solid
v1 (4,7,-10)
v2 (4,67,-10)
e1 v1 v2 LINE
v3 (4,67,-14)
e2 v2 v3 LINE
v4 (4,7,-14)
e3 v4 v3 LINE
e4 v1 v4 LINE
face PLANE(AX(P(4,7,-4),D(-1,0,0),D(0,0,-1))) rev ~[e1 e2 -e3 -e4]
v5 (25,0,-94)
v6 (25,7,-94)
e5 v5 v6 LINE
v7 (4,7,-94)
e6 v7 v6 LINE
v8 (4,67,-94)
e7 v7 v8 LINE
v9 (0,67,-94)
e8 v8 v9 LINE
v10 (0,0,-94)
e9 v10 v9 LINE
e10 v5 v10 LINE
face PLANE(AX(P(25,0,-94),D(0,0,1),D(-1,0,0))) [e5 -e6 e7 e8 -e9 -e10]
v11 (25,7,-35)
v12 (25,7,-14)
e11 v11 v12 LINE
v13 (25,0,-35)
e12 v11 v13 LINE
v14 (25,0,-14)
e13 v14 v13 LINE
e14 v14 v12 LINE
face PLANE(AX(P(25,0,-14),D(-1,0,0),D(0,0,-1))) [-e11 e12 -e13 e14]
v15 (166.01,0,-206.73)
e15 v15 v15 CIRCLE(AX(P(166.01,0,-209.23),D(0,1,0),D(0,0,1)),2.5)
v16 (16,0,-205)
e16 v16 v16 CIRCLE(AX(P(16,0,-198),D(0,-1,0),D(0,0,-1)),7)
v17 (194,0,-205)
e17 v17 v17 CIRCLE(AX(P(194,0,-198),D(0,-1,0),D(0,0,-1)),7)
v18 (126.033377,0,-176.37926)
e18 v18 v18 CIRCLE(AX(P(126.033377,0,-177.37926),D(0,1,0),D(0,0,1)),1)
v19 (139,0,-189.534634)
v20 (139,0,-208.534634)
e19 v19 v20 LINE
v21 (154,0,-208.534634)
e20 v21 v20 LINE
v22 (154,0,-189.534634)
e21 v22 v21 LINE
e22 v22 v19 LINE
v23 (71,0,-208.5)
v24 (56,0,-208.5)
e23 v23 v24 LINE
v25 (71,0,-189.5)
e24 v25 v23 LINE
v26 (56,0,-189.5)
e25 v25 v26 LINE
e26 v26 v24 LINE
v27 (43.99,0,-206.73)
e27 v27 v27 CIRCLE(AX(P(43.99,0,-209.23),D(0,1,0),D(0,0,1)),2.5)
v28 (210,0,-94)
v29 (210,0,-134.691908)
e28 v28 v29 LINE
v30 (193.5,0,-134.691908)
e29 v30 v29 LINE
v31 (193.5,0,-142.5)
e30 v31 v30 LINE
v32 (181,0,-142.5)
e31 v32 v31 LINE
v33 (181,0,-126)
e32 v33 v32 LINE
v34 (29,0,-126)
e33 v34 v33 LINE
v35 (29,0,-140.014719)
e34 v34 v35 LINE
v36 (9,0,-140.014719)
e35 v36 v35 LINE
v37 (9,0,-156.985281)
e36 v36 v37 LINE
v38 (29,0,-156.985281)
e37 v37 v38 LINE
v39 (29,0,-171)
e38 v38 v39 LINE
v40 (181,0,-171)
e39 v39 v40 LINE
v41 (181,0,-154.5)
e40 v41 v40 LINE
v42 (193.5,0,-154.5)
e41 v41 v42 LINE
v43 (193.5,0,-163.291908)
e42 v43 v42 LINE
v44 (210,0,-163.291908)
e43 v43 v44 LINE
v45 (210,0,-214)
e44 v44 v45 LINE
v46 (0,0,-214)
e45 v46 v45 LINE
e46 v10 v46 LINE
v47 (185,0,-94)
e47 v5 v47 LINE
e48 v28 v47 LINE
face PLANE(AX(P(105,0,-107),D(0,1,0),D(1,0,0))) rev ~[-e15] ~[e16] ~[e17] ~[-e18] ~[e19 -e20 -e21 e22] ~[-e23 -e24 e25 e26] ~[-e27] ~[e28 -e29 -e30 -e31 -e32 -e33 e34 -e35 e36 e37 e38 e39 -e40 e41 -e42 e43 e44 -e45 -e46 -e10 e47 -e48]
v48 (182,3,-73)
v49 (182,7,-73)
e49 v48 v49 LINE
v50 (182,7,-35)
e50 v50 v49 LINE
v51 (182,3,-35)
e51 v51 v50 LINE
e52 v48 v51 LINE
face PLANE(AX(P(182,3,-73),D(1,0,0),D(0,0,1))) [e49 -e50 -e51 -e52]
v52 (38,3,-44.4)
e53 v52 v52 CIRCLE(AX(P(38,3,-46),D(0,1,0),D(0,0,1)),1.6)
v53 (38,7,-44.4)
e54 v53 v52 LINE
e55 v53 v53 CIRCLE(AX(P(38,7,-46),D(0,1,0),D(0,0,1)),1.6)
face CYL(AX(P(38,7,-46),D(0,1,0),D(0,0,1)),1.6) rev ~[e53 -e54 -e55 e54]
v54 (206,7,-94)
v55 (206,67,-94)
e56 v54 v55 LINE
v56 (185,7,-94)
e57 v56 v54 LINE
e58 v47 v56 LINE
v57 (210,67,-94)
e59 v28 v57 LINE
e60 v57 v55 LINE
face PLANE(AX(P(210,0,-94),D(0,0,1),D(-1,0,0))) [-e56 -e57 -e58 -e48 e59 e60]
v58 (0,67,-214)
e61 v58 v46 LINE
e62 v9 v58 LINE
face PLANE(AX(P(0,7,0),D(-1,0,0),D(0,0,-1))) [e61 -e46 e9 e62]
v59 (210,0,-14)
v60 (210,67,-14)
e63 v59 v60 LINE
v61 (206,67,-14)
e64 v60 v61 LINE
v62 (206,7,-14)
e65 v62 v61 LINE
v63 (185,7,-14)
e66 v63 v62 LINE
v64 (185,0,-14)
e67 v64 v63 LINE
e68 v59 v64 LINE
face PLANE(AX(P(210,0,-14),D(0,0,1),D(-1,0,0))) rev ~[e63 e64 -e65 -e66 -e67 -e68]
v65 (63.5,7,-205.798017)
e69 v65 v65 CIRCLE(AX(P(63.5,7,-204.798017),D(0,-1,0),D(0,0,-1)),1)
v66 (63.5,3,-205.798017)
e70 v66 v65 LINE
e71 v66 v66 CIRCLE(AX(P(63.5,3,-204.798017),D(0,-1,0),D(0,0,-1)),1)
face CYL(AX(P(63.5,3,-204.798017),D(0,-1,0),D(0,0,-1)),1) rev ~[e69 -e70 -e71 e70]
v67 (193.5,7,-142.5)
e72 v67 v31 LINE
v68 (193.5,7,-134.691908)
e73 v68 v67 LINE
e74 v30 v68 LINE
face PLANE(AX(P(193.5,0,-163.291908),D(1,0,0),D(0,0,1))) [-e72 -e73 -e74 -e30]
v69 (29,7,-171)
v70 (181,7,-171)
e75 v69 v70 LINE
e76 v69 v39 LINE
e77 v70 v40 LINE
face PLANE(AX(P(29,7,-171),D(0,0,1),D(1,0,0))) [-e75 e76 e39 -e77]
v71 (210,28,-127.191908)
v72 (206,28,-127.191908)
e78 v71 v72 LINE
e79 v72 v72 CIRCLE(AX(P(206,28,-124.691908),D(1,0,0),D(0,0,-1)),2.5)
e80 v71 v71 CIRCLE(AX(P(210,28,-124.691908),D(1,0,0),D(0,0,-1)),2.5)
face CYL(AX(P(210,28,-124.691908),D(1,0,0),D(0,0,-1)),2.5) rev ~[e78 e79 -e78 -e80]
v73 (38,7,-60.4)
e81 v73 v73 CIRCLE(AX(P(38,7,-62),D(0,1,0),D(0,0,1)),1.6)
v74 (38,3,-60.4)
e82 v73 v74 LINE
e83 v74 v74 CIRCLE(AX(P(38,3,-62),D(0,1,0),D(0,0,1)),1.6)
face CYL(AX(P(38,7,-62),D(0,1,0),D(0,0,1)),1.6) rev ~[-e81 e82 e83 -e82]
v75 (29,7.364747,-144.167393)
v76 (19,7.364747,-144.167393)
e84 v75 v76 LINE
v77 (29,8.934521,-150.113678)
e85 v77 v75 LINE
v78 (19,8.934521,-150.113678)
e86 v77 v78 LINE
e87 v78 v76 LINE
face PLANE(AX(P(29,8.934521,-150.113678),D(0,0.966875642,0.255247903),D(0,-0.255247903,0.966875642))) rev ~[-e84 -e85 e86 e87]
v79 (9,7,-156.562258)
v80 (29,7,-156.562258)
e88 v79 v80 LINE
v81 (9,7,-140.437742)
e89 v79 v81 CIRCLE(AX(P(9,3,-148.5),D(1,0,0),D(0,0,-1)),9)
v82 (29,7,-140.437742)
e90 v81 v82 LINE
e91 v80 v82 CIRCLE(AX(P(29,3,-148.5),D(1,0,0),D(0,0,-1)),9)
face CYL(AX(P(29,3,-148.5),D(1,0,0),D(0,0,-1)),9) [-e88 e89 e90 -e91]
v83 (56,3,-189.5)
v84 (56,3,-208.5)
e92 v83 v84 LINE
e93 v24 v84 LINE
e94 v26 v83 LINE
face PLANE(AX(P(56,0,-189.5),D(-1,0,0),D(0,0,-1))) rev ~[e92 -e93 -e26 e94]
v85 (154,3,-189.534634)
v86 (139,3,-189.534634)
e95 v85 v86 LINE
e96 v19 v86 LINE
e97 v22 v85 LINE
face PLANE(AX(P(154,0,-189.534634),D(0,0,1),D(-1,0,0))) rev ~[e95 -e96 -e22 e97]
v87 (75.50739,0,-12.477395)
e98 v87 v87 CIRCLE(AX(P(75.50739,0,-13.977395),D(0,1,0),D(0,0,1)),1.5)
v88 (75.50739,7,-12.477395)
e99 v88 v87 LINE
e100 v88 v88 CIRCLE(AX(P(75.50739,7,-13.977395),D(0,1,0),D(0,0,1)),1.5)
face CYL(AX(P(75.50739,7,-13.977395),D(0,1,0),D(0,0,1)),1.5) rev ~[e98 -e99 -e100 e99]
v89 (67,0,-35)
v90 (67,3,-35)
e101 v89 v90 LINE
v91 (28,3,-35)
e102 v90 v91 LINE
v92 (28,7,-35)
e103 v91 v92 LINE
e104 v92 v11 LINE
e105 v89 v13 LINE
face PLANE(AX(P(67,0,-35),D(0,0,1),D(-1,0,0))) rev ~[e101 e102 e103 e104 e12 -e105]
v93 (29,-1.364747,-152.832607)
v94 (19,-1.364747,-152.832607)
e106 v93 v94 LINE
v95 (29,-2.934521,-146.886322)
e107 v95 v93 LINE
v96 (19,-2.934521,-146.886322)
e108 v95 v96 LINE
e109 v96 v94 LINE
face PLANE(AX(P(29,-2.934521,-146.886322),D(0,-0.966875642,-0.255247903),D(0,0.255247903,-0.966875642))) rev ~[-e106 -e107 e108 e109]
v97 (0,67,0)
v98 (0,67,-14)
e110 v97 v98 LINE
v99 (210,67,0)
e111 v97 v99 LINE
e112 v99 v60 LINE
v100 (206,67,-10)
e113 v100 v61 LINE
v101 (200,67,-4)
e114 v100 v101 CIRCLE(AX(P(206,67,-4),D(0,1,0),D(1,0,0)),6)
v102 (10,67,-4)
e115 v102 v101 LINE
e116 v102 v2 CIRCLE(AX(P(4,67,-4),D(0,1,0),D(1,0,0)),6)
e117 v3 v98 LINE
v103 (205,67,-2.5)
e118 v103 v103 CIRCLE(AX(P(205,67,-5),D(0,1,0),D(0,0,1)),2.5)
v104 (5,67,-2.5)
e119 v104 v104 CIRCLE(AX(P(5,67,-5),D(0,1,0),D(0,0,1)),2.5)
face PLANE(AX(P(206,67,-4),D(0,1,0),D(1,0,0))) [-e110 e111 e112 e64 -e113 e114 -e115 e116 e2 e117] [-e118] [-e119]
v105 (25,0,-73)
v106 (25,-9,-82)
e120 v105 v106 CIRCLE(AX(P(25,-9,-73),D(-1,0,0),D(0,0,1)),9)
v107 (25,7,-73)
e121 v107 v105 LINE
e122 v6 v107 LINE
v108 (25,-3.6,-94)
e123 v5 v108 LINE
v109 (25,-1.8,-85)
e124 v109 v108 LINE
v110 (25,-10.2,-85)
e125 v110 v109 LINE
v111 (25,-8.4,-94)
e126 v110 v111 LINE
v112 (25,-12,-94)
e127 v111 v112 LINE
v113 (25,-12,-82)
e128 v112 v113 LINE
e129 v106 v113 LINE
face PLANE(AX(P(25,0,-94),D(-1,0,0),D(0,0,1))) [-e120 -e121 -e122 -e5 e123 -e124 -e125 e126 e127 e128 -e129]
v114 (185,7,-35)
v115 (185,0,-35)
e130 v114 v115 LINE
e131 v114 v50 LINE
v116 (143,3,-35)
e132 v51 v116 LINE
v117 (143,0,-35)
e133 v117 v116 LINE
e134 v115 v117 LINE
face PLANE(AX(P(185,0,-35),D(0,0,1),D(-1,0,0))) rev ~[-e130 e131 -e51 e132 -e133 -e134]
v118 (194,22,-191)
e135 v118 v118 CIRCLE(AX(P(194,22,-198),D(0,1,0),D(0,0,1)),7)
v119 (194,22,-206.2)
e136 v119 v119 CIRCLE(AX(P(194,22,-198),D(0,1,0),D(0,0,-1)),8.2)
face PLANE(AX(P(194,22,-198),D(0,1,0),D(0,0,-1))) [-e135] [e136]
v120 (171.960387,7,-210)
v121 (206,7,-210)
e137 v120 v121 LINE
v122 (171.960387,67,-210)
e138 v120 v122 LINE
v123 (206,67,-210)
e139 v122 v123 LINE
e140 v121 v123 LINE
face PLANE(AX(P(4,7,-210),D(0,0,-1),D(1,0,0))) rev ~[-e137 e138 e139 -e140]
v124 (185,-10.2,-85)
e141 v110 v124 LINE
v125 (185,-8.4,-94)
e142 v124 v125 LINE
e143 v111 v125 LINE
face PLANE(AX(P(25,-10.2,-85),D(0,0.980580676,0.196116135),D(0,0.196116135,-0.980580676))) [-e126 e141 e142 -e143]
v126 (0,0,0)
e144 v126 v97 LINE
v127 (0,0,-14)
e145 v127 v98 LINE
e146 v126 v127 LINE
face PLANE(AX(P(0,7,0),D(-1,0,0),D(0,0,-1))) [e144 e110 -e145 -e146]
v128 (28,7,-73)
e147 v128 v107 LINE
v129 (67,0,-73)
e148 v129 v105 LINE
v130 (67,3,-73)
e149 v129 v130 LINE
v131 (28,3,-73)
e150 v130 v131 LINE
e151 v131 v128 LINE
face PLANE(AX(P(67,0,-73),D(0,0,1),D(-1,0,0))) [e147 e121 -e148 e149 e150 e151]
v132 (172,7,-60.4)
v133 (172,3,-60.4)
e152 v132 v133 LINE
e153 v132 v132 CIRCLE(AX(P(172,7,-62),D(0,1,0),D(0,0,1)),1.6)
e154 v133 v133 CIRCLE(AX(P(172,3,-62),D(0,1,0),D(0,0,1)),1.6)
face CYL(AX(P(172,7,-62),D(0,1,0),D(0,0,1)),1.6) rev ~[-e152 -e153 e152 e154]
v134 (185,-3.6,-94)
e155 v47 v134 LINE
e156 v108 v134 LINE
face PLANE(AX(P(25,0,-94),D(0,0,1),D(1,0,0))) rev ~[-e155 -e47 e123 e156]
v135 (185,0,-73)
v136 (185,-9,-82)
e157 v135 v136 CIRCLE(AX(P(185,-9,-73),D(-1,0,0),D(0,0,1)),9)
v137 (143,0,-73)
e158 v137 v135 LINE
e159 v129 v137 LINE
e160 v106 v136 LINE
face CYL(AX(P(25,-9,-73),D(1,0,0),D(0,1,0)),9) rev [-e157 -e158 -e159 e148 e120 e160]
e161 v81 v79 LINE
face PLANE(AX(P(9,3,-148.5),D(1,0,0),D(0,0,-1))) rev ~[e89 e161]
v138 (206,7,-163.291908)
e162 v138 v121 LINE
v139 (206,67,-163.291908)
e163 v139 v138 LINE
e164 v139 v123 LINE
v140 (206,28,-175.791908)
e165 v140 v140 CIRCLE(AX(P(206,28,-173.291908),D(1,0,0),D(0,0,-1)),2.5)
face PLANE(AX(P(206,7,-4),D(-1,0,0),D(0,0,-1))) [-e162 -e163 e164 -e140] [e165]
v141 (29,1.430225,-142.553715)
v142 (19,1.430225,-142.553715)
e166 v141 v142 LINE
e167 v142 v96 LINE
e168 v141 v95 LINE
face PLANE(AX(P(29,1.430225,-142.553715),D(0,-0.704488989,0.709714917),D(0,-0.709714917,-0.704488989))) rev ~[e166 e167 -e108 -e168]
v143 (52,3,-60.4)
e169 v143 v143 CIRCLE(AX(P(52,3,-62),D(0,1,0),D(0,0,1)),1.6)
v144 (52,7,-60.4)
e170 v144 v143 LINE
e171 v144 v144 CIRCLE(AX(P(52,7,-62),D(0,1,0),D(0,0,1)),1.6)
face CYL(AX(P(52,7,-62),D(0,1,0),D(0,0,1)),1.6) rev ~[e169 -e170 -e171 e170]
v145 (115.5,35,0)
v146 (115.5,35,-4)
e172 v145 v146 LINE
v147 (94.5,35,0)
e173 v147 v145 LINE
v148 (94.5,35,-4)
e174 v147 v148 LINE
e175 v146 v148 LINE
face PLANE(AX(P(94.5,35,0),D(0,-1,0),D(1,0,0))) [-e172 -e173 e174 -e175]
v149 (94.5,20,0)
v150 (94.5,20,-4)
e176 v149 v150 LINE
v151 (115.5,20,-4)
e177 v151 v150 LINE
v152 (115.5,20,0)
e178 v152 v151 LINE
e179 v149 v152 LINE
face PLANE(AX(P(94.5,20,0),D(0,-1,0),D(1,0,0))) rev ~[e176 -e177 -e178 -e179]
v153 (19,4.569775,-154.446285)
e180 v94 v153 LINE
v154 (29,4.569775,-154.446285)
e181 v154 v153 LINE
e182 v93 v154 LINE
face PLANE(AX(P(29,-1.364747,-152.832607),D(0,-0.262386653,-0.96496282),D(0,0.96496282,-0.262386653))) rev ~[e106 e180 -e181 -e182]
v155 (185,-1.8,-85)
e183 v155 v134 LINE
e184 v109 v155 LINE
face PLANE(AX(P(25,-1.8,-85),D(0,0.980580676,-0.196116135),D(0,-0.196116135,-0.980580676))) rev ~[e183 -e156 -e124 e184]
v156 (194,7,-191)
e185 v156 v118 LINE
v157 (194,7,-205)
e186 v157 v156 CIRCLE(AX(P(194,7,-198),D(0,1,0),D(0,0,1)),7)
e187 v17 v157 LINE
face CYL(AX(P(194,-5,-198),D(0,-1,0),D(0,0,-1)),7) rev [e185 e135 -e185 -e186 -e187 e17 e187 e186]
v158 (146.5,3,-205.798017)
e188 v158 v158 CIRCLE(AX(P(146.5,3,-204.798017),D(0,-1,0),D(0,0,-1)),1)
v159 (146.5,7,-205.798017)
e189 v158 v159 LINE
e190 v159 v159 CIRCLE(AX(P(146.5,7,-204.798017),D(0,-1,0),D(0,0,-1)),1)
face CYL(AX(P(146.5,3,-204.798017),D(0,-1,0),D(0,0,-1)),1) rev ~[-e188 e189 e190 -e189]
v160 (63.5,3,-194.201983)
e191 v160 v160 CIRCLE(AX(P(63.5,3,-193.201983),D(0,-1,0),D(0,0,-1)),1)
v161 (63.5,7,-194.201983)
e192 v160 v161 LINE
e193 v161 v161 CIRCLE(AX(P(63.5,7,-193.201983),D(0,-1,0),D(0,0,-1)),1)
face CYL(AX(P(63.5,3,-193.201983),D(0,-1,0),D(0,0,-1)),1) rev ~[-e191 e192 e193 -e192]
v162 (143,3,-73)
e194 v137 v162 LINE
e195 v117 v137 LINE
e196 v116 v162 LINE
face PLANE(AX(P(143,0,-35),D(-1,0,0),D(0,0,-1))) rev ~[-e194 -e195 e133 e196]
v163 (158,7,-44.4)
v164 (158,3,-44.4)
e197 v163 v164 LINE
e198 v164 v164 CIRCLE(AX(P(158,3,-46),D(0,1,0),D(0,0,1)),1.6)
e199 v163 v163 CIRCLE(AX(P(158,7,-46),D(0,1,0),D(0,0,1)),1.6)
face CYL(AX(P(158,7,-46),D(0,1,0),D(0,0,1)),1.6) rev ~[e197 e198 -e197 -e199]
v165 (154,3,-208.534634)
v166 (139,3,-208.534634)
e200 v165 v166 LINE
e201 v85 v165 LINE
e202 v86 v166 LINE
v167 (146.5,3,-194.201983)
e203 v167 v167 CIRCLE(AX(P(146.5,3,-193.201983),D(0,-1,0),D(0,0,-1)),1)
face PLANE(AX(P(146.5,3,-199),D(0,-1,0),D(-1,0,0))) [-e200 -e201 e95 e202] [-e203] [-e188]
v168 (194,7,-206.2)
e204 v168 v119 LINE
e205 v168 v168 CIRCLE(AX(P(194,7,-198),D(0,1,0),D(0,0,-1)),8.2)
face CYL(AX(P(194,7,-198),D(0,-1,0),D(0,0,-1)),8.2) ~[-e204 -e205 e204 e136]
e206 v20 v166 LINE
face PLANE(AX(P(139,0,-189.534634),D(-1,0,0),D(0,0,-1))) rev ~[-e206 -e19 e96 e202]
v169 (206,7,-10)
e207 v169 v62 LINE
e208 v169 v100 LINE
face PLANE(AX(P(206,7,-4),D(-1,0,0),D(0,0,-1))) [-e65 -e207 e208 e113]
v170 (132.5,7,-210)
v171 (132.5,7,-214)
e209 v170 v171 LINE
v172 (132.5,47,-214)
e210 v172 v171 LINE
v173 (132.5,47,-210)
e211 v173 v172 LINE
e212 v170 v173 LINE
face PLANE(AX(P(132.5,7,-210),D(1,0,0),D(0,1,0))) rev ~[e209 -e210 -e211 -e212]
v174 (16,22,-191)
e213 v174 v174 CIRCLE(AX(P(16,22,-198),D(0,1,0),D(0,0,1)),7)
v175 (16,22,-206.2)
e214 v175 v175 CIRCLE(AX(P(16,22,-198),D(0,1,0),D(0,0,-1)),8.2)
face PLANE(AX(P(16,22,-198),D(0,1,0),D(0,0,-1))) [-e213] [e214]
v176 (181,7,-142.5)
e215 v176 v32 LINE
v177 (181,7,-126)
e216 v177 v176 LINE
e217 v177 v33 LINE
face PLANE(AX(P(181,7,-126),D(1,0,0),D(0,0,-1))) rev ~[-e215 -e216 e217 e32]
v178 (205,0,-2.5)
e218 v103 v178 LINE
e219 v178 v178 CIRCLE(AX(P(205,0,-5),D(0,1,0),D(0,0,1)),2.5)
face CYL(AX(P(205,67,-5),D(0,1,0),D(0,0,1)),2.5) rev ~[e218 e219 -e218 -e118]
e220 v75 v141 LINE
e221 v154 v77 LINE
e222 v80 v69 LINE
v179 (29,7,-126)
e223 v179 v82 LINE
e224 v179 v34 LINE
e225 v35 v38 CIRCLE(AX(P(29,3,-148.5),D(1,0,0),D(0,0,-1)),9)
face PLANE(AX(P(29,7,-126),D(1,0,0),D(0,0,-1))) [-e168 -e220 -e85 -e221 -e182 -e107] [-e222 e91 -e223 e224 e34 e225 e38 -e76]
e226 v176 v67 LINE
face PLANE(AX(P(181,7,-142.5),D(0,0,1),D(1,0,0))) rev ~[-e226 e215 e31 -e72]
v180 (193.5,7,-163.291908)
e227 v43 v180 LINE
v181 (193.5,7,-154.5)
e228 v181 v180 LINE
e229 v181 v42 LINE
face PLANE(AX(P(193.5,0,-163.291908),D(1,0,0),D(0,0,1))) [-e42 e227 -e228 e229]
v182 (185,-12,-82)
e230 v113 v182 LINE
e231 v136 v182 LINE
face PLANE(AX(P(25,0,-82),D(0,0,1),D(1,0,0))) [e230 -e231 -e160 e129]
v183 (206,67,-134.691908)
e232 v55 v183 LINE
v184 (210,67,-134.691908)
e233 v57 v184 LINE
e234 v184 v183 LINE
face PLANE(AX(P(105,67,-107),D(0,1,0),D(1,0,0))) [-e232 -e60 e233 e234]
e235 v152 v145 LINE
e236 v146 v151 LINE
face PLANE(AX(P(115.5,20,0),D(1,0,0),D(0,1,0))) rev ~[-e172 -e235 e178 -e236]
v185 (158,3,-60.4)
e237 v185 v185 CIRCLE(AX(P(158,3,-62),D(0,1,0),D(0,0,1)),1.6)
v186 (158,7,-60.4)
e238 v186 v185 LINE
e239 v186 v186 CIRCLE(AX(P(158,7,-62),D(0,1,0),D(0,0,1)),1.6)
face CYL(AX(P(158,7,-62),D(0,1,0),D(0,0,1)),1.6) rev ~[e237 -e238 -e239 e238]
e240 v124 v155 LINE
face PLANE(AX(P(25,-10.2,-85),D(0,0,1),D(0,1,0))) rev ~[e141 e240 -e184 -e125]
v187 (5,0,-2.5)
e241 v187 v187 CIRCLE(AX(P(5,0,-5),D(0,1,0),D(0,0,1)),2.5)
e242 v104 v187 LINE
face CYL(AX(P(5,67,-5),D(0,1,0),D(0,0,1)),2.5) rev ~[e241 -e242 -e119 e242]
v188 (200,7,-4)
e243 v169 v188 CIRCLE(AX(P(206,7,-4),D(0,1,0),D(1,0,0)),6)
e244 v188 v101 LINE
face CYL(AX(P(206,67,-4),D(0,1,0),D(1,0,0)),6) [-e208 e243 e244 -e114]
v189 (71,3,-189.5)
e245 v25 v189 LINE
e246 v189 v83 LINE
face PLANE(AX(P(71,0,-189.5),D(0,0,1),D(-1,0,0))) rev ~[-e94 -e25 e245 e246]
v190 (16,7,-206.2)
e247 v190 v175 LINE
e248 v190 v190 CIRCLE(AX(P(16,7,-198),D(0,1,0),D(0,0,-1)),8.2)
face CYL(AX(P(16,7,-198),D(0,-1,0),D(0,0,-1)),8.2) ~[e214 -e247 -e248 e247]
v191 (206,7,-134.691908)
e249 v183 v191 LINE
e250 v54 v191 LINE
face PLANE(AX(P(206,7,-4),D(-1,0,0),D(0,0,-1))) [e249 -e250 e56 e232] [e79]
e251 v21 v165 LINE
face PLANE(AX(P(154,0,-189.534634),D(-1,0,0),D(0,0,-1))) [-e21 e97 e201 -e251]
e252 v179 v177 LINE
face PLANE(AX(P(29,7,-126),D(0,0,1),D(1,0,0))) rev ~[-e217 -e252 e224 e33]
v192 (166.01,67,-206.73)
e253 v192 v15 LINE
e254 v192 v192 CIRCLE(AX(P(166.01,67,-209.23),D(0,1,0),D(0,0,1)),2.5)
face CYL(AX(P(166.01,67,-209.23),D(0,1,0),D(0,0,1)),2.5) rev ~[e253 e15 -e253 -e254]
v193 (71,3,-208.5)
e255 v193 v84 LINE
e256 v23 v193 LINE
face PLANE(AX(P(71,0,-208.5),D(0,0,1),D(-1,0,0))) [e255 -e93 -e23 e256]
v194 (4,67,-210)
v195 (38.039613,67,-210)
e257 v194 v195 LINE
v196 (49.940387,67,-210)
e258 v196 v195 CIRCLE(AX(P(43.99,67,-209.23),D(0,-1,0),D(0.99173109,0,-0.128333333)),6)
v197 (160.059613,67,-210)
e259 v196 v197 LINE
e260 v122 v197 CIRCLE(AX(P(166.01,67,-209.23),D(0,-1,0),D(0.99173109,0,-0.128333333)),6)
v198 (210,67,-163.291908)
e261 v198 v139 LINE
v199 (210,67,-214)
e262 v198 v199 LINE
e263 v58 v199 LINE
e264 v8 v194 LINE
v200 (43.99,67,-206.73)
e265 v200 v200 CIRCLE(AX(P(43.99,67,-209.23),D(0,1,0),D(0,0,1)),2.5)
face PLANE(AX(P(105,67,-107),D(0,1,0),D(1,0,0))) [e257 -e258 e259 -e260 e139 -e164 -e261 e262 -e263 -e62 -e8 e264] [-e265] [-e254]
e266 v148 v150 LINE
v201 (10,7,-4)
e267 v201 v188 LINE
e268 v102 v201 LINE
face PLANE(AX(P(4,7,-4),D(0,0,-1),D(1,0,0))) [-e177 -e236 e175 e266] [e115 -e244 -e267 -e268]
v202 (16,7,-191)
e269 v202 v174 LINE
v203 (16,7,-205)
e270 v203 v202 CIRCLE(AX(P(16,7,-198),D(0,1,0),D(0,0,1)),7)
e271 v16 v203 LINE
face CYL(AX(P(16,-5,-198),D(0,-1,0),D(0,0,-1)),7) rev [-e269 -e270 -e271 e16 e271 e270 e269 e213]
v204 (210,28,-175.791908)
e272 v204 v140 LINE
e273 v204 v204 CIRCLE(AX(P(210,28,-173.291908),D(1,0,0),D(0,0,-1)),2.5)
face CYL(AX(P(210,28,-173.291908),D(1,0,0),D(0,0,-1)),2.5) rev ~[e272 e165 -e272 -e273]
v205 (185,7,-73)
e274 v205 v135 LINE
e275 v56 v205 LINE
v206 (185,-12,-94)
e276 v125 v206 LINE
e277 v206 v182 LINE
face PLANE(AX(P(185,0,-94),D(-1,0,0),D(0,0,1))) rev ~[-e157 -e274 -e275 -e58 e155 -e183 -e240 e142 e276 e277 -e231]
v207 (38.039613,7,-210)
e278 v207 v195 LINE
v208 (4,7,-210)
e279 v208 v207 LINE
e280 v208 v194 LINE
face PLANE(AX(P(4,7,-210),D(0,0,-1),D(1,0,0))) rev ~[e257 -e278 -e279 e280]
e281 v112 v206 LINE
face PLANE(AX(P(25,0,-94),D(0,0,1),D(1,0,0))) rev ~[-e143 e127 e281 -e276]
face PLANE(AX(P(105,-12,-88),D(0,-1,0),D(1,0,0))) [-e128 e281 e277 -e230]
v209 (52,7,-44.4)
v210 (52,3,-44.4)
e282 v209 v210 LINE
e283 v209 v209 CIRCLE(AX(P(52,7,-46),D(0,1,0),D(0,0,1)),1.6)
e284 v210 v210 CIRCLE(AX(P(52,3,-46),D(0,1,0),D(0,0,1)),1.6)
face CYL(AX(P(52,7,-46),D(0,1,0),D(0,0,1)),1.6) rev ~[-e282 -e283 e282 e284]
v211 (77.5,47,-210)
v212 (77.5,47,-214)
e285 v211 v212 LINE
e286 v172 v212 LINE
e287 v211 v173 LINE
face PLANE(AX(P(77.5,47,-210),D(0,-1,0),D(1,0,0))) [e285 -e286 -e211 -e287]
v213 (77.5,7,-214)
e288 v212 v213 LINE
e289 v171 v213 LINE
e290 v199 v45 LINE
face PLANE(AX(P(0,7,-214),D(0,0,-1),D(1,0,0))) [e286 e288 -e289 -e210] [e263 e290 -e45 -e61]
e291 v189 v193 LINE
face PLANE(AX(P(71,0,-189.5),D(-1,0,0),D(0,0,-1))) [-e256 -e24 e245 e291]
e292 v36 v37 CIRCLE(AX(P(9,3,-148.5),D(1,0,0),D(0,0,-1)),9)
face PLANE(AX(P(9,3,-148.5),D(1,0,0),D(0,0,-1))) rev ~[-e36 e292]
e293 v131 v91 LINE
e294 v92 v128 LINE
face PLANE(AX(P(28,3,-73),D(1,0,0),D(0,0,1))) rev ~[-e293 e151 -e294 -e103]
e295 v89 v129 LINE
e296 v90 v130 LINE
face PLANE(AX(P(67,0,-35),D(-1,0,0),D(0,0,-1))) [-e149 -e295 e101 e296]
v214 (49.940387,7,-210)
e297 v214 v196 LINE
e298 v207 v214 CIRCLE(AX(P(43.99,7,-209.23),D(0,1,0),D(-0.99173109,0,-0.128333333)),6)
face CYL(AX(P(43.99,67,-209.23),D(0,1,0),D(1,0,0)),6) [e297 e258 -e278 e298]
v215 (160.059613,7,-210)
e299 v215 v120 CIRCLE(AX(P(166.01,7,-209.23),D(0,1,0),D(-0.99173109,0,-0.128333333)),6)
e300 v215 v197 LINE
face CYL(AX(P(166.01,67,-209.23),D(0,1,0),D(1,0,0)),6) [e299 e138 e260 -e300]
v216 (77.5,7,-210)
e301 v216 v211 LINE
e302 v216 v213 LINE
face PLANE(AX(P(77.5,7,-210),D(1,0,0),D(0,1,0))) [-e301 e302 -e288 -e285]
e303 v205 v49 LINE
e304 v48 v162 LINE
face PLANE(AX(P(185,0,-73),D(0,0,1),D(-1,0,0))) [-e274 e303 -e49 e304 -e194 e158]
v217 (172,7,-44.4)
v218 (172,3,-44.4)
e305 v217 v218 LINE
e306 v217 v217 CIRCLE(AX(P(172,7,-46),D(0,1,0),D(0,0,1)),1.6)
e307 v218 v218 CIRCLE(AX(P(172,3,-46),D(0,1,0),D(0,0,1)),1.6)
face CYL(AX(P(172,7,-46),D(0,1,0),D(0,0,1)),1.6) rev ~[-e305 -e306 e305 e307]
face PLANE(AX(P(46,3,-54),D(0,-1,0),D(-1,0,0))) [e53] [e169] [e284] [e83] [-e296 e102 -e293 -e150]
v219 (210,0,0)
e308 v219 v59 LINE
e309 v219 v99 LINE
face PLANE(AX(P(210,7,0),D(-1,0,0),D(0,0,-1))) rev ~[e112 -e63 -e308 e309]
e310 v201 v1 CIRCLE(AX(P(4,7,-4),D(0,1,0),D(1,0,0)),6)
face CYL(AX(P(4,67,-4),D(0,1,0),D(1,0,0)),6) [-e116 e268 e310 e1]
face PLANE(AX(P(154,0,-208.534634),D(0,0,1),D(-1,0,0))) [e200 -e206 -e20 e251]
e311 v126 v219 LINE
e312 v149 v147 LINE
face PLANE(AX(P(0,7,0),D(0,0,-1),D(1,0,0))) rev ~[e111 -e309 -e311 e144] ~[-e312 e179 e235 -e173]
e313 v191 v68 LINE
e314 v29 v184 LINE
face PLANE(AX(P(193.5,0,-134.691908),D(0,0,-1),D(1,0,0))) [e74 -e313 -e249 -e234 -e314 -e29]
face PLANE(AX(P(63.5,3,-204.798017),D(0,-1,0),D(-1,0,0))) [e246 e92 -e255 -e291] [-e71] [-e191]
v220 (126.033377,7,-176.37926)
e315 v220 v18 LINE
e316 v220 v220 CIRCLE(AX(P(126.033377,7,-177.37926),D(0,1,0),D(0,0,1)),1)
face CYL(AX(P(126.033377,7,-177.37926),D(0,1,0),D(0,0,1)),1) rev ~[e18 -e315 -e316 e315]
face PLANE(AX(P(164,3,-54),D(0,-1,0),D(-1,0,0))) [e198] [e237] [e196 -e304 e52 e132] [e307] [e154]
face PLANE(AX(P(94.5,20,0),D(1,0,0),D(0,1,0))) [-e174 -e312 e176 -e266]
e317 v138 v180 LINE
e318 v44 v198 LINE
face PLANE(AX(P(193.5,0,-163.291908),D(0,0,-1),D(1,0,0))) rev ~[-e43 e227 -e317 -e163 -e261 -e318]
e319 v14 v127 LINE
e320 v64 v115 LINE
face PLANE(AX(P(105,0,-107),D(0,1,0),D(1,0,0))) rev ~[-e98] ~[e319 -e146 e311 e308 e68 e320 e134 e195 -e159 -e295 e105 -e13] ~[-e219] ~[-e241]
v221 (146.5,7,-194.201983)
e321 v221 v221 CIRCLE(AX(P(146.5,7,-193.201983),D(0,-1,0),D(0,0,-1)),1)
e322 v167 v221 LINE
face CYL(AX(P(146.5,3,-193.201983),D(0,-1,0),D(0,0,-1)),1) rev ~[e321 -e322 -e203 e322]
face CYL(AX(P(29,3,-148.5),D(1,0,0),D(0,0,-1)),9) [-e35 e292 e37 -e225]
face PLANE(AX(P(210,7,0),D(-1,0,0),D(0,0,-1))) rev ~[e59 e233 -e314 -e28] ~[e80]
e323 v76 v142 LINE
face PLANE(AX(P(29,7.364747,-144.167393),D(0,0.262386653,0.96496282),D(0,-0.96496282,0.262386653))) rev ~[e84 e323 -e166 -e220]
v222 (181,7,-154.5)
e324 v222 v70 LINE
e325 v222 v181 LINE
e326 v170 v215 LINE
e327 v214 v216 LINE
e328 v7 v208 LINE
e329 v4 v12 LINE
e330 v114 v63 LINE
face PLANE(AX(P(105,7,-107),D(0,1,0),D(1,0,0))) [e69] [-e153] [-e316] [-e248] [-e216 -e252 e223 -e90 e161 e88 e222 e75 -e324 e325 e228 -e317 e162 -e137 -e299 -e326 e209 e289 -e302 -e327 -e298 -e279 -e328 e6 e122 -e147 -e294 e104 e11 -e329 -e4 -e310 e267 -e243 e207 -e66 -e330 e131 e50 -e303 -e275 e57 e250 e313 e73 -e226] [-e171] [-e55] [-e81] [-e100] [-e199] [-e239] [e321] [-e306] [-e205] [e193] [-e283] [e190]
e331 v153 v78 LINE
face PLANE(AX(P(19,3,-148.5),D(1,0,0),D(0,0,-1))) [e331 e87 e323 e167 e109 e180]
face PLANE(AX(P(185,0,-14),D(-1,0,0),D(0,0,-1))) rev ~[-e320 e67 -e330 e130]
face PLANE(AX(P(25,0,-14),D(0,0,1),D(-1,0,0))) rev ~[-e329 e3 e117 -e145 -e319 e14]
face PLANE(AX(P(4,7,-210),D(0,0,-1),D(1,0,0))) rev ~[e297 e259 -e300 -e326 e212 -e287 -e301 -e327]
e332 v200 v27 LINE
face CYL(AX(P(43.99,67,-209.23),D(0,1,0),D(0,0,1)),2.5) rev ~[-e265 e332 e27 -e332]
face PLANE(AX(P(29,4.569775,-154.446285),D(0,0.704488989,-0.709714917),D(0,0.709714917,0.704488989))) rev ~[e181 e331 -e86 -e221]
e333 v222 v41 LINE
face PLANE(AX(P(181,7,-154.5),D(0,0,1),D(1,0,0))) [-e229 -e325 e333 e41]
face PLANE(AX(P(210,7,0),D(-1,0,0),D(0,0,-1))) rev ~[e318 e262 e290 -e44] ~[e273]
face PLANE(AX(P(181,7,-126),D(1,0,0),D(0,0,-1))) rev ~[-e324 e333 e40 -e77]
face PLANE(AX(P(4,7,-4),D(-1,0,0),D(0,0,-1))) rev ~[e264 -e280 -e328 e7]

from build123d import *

# Parameters (mm, degrees)
SKETCH1_W           = 210
SKETCH1_H           = 214
BOSS_EXTRUDE1_DEPTH = 7
SKETCH2_W           = 210
SKETCH2_H           = 214
SKETCH2_W_2         = 202
SKETCH2_H_2         = 206
BOSS_EXTRUDE2_DEPTH = 60
SKETCH3_R           = 1.6
CUT_EXTRUDE1_DEPTH  = 306.771156259
SKETCH4_W           = 25
SKETCH4_H           = 80
CUT_EXTRUDE2_DEPTH  = 67
SKETCH5_W           = 42
SKETCH5_H           = 38
CUT_EXTRUDE3_DEPTH  = 3
SKETCH6_W           = 3
SKETCH6_H           = 38
CUT_EXTRUDE4_DEPTH  = 307.581147496
SKETCH7_W           = 152
SKETCH7_H           = 45
CUT_EXTRUDE5_DEPTH  = 306.771156259
SKETCH8_R           = 9
BOSS_EXTRUDE3_DEPTH = 20
SKETCH9_W           = 12.5
SKETCH9_H           = 12
CUT_EXTRUDE6_DEPTH  = 20
SKETCH10_W          = 160
SKETCH10_H          = 12
BOSS_EXTRUDE4_DEPTH = 12
SKETCH11_W          = 9
SKETCH11_H          = 4.8
CUT_EXTRUDE7_DEPTH  = 291.706037089
FILLET1_R           = 9
SKETCH12_R          = 8.2
SKETCH12_R_2        = 7
BOSS_EXTRUDE5_DEPTH = 15
CUT_EXTRUDE8_START  = -12
SKETCH13_R          = 7
CUT_EXTRUDE8_DEPTH  = 12
SKETCH14_W          = 16.5
SKETCH14_H          = 28.6
CUT_EXTRUDE9_DEPTH  = 308.221418524
SKETCH15_W          = 21
SKETCH15_H          = 15
CUT_EXTRUDE10_DEPTH = 30
CUT_EXTRUDE11_DEPTH = 10
BOSS_EXTRUDE6_REACH = 312.06
SKETCH17_R          = 6
CUT_EXTRUDE12_REACH = 312.06
SKETCH18_R          = 2.5
BOSS_EXTRUDE7_REACH = 312.06
SKETCH22_R          = 6
CUT_EXTRUDE14_REACH = 312.06
SKETCH23_R          = 2.5
SKETCH24_R          = 3
SKETCH24_R_2        = 5.798017453
CUT_EXTRUDE15_DEPTH = 3
SKETCH25_R          = 1
CUT_EXTRUDE16_DEPTH = 307.581147496
SKETCH29_W          = 55
SKETCH29_H          = 40
CUT_EXTRUDE17_DEPTH = 17
SKETCH30_R          = 1
CUT_EXTRUDE18_DEPTH = 17
SKETCH31_R          = 2.5
CUT_EXTRUDE19_DEPTH = 17
SKETCH32_W          = 15
SKETCH32_H          = 19
CUT_EXTRUDE20_DEPTH = 3
SKETCH34_R          = 1.5
CUT_EXTRUDE21_DEPTH = 306.771156259


with BuildPart() as part:
    # Sketch1 → Boss-Extrude1 (new body)
    with BuildSketch(Plane(origin=(0, 0, 0), x_dir=(1, 0, 0), z_dir=(0, 1, 0))):
        with Locations((105, 107)):
            Rectangle(SKETCH1_W, SKETCH1_H)
    extrude(amount=BOSS_EXTRUDE1_DEPTH)

    # Sketch2 → Boss-Extrude2 (add)
    with BuildSketch(Plane(origin=(0, 7, 0), x_dir=(1, 0, 0), z_dir=(0, 1, 0))):
        with Locations((105, 107)):
            Rectangle(SKETCH2_W, SKETCH2_H)
        with Locations((105, 107)):
            Rectangle(SKETCH2_W_2, SKETCH2_H_2, mode=Mode.SUBTRACT)
    extrude(amount=BOSS_EXTRUDE2_DEPTH)

    # Sketch3 → Cut-Extrude1 (cut, through all)
    with BuildSketch(Plane(origin=(0, 7, 0), x_dir=(1, 0, 0), z_dir=(0, 1, 0))):
        with Locations(Location((38, 62, 0), (0, 0, 270))):
            Circle(SKETCH3_R)
        with Locations(Location((38, 46, 0), (0, 0, 270))):
            Circle(SKETCH3_R)
        with Locations(Location((52, 62, 0), (0, 0, 270))):
            Circle(SKETCH3_R)
        with Locations(Location((52, 46, 0), (0, 0, 270))):
            Circle(SKETCH3_R)
        with Locations(Location((172, 62, 0), (0, 0, 270))):
            Circle(SKETCH3_R)
        with Locations(Location((172, 46, 0), (0, 0, 270))):
            Circle(SKETCH3_R)
        with Locations(Location((158, 62, 0), (0, 0, 270))):
            Circle(SKETCH3_R)
        with Locations(Location((158, 46, 0), (0, 0, 270))):
            Circle(SKETCH3_R)
    extrude(amount=-CUT_EXTRUDE1_DEPTH, mode=Mode.SUBTRACT)

    # Sketch4 → Cut-Extrude2 (cut)
    with BuildSketch(Plane(origin=(0, 0, 0), x_dir=(-1, 0, 0), z_dir=(0, -1, 0))):
        with Locations((-12.5, 54)):
            Rectangle(SKETCH4_W, SKETCH4_H)
        with Locations((-197.5, 54)):
            Rectangle(SKETCH4_W, SKETCH4_H)
    extrude(amount=-CUT_EXTRUDE2_DEPTH, mode=Mode.SUBTRACT)

    # Sketch5 → Cut-Extrude3 (cut)
    with BuildSketch(Plane(origin=(0, 0, 0), x_dir=(-1, 0, 0), z_dir=(0, -1, 0))):
        with Locations((-46, 54)):
            Rectangle(SKETCH5_W, SKETCH5_H)
        with Locations((-164, 54)):
            Rectangle(SKETCH5_W, SKETCH5_H)
    extrude(amount=-CUT_EXTRUDE3_DEPTH, mode=Mode.SUBTRACT)

    # Sketch6 → Cut-Extrude4 (cut, through all)
    with BuildSketch(Plane.XZ.offset(-3)):
        with Locations((26.5, -54)):
            Rectangle(SKETCH6_W, SKETCH6_H)
        with Locations((183.5, -54)):
            Rectangle(SKETCH6_W, SKETCH6_H)
    extrude(amount=-CUT_EXTRUDE4_DEPTH, mode=Mode.SUBTRACT)

    # Sketch7 → Cut-Extrude5 (cut, through all)
    with BuildSketch(Plane(origin=(0, 7, 0), x_dir=(1, 0, 0), z_dir=(0, 1, 0))):
        with Locations((105, 148.5)):
            Rectangle(SKETCH7_W, SKETCH7_H)
    extrude(amount=-CUT_EXTRUDE5_DEPTH, mode=Mode.SUBTRACT)

    # Sketch8 → Boss-Extrude3 (add)
    with BuildSketch(Plane(origin=(29, 0, 0), x_dir=(0, 0, -1), z_dir=(1, 0, 0))):
        with Locations((148.5, 3)):
            Circle(SKETCH8_R)
    extrude(amount=-BOSS_EXTRUDE3_DEPTH)

    # Sketch9 → Cut-Extrude6 (cut)
    with BuildSketch(Plane(origin=(0, 7, 0), x_dir=(1, 0, 0), z_dir=(0, 1, 0))):
        with Locations((187.25, 148.5)):
            Rectangle(SKETCH9_W, SKETCH9_H)
    extrude(amount=-CUT_EXTRUDE6_DEPTH, mode=Mode.SUBTRACT)

    # Sketch10 → Boss-Extrude4 (add)
    with BuildSketch(Plane.XZ):
        with Locations((105, -88)):
            Rectangle(SKETCH10_W, SKETCH10_H)
    extrude(amount=BOSS_EXTRUDE4_DEPTH)

    # Sketch11 → Cut-Extrude7 (cut, through all)
    with BuildSketch(Plane.ZY.offset(-25)):
        with Locations((-89.5, -6)):
            Rectangle(SKETCH11_W, SKETCH11_H)
        Polygon((-85, -3.6), (-85, -1.8), (-94, -3.6), align=None)
        Polygon((-85, -10.2), (-94, -8.4), (-85, -8.4), align=None)
    extrude(amount=-CUT_EXTRUDE7_DEPTH, mode=Mode.SUBTRACT)

    # Fillet1
    fillet1_edges = [part.edges().sort_by_distance(p)[0] for p in [
        (105, 0, -82),
    ]]
    fillet(fillet1_edges, radius=FILLET1_R)

    # Sketch12 → Boss-Extrude5 (add)
    # profile 1 of 2: a face of its own
    with BuildSketch(Plane(origin=(0, 7, 0), x_dir=(1, 0, 0), z_dir=(0, 1, 0))):
        with Locations(Location((16, 198, 0), (0, 0, 90))):
            Circle(SKETCH12_R)
        with Locations(Location((16, 198, 0), (0, 0, 270))):
            Circle(SKETCH12_R_2, mode=Mode.SUBTRACT)
    # profile 2 of 2: a face of its own
    with BuildSketch(Plane(origin=(0, 7, 0), x_dir=(1, 0, 0), z_dir=(0, 1, 0))):
        with Locations(Location((194, 198, 0), (0, 0, 90))):
            Circle(SKETCH12_R)
        with Locations(Location((194, 198, 0), (0, 0, 270))):
            Circle(SKETCH12_R_2, mode=Mode.SUBTRACT)
    extrude(amount=BOSS_EXTRUDE5_DEPTH)

    # Sketch13 → Cut-Extrude8 (cut)
    with BuildSketch(Plane(origin=(0, 7, 0), x_dir=(1, 0, 0), z_dir=(0, 1, 0)).offset(CUT_EXTRUDE8_START)):
        with Locations(Location((16, 198, 0), (0, 0, 90))):
            Circle(SKETCH13_R)
        with Locations(Location((194, 198, 0), (0, 0, 90))):
            Circle(SKETCH13_R)
    extrude(amount=CUT_EXTRUDE8_DEPTH, mode=Mode.SUBTRACT)

    # Sketch14 → Cut-Extrude9 (cut, through all)
    with BuildSketch(Plane.XZ):
        with Locations((201.75, -148.99190775)):
            Rectangle(SKETCH14_W, SKETCH14_H)
    extrude(amount=-CUT_EXTRUDE9_DEPTH, mode=Mode.SUBTRACT)

    # Sketch15 → Cut-Extrude10 (cut)
    with BuildSketch(Plane.XY):
        with Locations((105, 27.5)):
            Rectangle(SKETCH15_W, SKETCH15_H)
    extrude(amount=-CUT_EXTRUDE10_DEPTH, mode=Mode.SUBTRACT)

    # Sketch16 → Cut-Extrude11 (cut)
    with BuildSketch(Plane(origin=(29, 0, 0), x_dir=(0, 0, -1), z_dir=(1, 0, 0))):
        Polygon((154.446285201, 4.569774603), (150.113677916, 8.934521344), (144.167392715, 7.364746741), (142.553714799, 1.430225397), (146.886322084, -2.934521344), (152.832607285, -1.364746741), align=None)
    extrude(amount=-CUT_EXTRUDE11_DEPTH, mode=Mode.SUBTRACT)

    # Sketch17 → Boss-Extrude6 (add, up to next)
    with BuildSketch(Plane(origin=(0, 67, 0), x_dir=(1, 0, 0), z_dir=(0, 1, 0)), mode=Mode.PRIVATE) as boss_extrude6_sk1:
        with Locations((4, 4)):
            Circle(SKETCH17_R)
    boss_extrude6_tool1 = extrude(boss_extrude6_sk1.sketch, amount=-BOSS_EXTRUDE6_REACH, mode=Mode.PRIVATE) - part.part
    # Sketch17 → Boss-Extrude6 (add, up to next)
    with BuildSketch(Plane(origin=(0, 67, 0), x_dir=(1, 0, 0), z_dir=(0, 1, 0)), mode=Mode.PRIVATE) as boss_extrude6_sk2:
        with Locations((206, 4)):
            Circle(SKETCH17_R)
    boss_extrude6_tool2 = extrude(boss_extrude6_sk2.sketch, amount=-BOSS_EXTRUDE6_REACH, mode=Mode.PRIVATE) - part.part
    add(boss_extrude6_tool1.solids().sort_by_distance((4, 67, -4))[0])
    add(boss_extrude6_tool2.solids().sort_by_distance((206, 67, -4))[0])

    # Sketch18 → Cut-Extrude12 (cut, up to next)
    with BuildSketch(Plane(origin=(0, 67, 0), x_dir=(1, 0, 0), z_dir=(0, 1, 0)), mode=Mode.PRIVATE) as cut_extrude12_sk1:
        with Locations(Location((5, 5, 0), (0, 0, 270))):
            Circle(SKETCH18_R)
    cut_extrude12_tool1 = extrude(cut_extrude12_sk1.sketch, amount=-CUT_EXTRUDE12_REACH, mode=Mode.PRIVATE) & part.part
    # Sketch18 → Cut-Extrude12 (cut, up to next)
    with BuildSketch(Plane(origin=(0, 67, 0), x_dir=(1, 0, 0), z_dir=(0, 1, 0)), mode=Mode.PRIVATE) as cut_extrude12_sk2:
        with Locations(Location((205, 5, 0), (0, 0, 270))):
            Circle(SKETCH18_R)
    cut_extrude12_tool2 = extrude(cut_extrude12_sk2.sketch, amount=-CUT_EXTRUDE12_REACH, mode=Mode.PRIVATE) & part.part
    add(cut_extrude12_tool1.solids().sort_by_distance((5, 67, -5))[0], mode=Mode.SUBTRACT)
    add(cut_extrude12_tool2.solids().sort_by_distance((205, 67, -5))[0], mode=Mode.SUBTRACT)

    # Sketch22 → Boss-Extrude7 (add, up to next)
    with BuildSketch(Plane(origin=(0, 67, 0), x_dir=(1, 0, 0), z_dir=(0, 1, 0)), mode=Mode.PRIVATE) as boss_extrude7_sk1:
        with Locations((43.99, 209.23)):
            Circle(SKETCH22_R)
    boss_extrude7_tool1 = extrude(boss_extrude7_sk1.sketch, amount=-BOSS_EXTRUDE7_REACH, mode=Mode.PRIVATE) - part.part
    # Sketch22 → Boss-Extrude7 (add, up to next)
    with BuildSketch(Plane(origin=(0, 67, 0), x_dir=(1, 0, 0), z_dir=(0, 1, 0)), mode=Mode.PRIVATE) as boss_extrude7_sk2:
        with Locations((166.01, 209.23)):
            Circle(SKETCH22_R)
    boss_extrude7_tool2 = extrude(boss_extrude7_sk2.sketch, amount=-BOSS_EXTRUDE7_REACH, mode=Mode.PRIVATE) - part.part
    add(boss_extrude7_tool1.solids().sort_by_distance((43.99, 67, -209.23))[0])
    add(boss_extrude7_tool2.solids().sort_by_distance((166.01, 67, -209.23))[0])

    # Sketch23 → Cut-Extrude14 (cut, up to next)
    with BuildSketch(Plane(origin=(0, 67, 0), x_dir=(1, 0, 0), z_dir=(0, 1, 0)), mode=Mode.PRIVATE) as cut_extrude14_sk1:
        with Locations(Location((43.99, 209.23, 0), (0, 0, 270))):
            Circle(SKETCH23_R)
    cut_extrude14_tool1 = extrude(cut_extrude14_sk1.sketch, amount=-CUT_EXTRUDE14_REACH, mode=Mode.PRIVATE) & part.part
    # Sketch23 → Cut-Extrude14 (cut, up to next)
    with BuildSketch(Plane(origin=(0, 67, 0), x_dir=(1, 0, 0), z_dir=(0, 1, 0)), mode=Mode.PRIVATE) as cut_extrude14_sk2:
        with Locations(Location((166.01, 209.23, 0), (0, 0, 270))):
            Circle(SKETCH23_R)
    cut_extrude14_tool2 = extrude(cut_extrude14_sk2.sketch, amount=-CUT_EXTRUDE14_REACH, mode=Mode.PRIVATE) & part.part
    add(cut_extrude14_tool1.solids().sort_by_distance((43.99, 67, -209.23))[0], mode=Mode.SUBTRACT)
    add(cut_extrude14_tool2.solids().sort_by_distance((166.01, 67, -209.23))[0], mode=Mode.SUBTRACT)

    # Sketch24 → Cut-Extrude15 (cut)
    with BuildSketch(Plane(origin=(0, 0, 0), x_dir=(-1, 0, 0), z_dir=(0, -1, 0))):
        with Locations((-63.5, 204.798017453)):
            Circle(SKETCH24_R)
        with Locations((-63.5, 199)):
            Circle(SKETCH24_R_2)
        with Locations((-63.5, 193.201982547)):
            Circle(SKETCH24_R)
        with Locations((-146.5, 199)):
            Circle(SKETCH24_R_2)
        with Locations((-146.5, 204.798017453)):
            Circle(SKETCH24_R)
        with Locations((-146.5, 193.201982547)):
            Circle(SKETCH24_R)
    extrude(amount=-CUT_EXTRUDE15_DEPTH, mode=Mode.SUBTRACT)

    # Sketch25 → Cut-Extrude16 (cut, through all)
    with BuildSketch(Plane(origin=(0, 3, 0), x_dir=(-1, 0, 0), z_dir=(0, -1, 0))):
        with Locations(Location((-146.5, 204.798017453, 0), (0, 0, 90))):
            Circle(SKETCH25_R)
        with Locations(Location((-146.5, 193.201982547, 0), (0, 0, 90))):
            Circle(SKETCH25_R)
        with Locations(Location((-63.5, 193.201982547, 0), (0, 0, 90))):
            Circle(SKETCH25_R)
        with Locations(Location((-63.5, 204.798017453, 0), (0, 0, 90))):
            Circle(SKETCH25_R)
    extrude(amount=-CUT_EXTRUDE16_DEPTH, mode=Mode.SUBTRACT)

    # Sketch29 → Cut-Extrude17 (cut)
    with BuildSketch(Plane.XY.offset(-210)):
        with Locations((105, 27)):
            Rectangle(SKETCH29_W, SKETCH29_H)
    extrude(amount=-CUT_EXTRUDE17_DEPTH, mode=Mode.SUBTRACT)

    # Sketch30 → Cut-Extrude18 (cut)
    with BuildSketch(Plane(origin=(0, 7, 0), x_dir=(1, 0, 0), z_dir=(0, 1, 0))):
        with Locations(Location((126.03337695, 177.379260447, 0), (0, 0, 270))):
            Circle(SKETCH30_R)
    extrude(amount=-CUT_EXTRUDE18_DEPTH, mode=Mode.SUBTRACT)

    # Sketch31 → Cut-Extrude19 (cut)
    with BuildSketch(Plane(origin=(210, 0, 0), x_dir=(0, 0, -1), z_dir=(1, 0, 0))):
        with Locations((124.69190775, 28)):
            Circle(SKETCH31_R)
        with Locations((173.29190775, 28)):
            Circle(SKETCH31_R)
    extrude(amount=-CUT_EXTRUDE19_DEPTH, mode=Mode.SUBTRACT)

    # Sketch32 → Cut-Extrude20 (cut)
    with BuildSketch(Plane(origin=(0, 0, 0), x_dir=(-1, 0, 0), z_dir=(0, -1, 0))):
        with Locations((-63.5, 199)):
            Rectangle(SKETCH32_W, SKETCH32_H)
        with Locations((-146.5, 199.034633879)):
            Rectangle(SKETCH32_W, SKETCH32_H)
    extrude(amount=-CUT_EXTRUDE20_DEPTH, mode=Mode.SUBTRACT)

    # Sketch34 → Cut-Extrude21 (cut, through all)
    with BuildSketch(Plane(origin=(0, 7, 0), x_dir=(1, 0, 0), z_dir=(0, 1, 0))):
        with Locations(Location((75.507390147, 13.977394752, 0), (0, 0, 270))):
            Circle(SKETCH34_R)
    extrude(amount=-CUT_EXTRUDE21_DEPTH, mode=Mode.SUBTRACT)


solid = part.part
